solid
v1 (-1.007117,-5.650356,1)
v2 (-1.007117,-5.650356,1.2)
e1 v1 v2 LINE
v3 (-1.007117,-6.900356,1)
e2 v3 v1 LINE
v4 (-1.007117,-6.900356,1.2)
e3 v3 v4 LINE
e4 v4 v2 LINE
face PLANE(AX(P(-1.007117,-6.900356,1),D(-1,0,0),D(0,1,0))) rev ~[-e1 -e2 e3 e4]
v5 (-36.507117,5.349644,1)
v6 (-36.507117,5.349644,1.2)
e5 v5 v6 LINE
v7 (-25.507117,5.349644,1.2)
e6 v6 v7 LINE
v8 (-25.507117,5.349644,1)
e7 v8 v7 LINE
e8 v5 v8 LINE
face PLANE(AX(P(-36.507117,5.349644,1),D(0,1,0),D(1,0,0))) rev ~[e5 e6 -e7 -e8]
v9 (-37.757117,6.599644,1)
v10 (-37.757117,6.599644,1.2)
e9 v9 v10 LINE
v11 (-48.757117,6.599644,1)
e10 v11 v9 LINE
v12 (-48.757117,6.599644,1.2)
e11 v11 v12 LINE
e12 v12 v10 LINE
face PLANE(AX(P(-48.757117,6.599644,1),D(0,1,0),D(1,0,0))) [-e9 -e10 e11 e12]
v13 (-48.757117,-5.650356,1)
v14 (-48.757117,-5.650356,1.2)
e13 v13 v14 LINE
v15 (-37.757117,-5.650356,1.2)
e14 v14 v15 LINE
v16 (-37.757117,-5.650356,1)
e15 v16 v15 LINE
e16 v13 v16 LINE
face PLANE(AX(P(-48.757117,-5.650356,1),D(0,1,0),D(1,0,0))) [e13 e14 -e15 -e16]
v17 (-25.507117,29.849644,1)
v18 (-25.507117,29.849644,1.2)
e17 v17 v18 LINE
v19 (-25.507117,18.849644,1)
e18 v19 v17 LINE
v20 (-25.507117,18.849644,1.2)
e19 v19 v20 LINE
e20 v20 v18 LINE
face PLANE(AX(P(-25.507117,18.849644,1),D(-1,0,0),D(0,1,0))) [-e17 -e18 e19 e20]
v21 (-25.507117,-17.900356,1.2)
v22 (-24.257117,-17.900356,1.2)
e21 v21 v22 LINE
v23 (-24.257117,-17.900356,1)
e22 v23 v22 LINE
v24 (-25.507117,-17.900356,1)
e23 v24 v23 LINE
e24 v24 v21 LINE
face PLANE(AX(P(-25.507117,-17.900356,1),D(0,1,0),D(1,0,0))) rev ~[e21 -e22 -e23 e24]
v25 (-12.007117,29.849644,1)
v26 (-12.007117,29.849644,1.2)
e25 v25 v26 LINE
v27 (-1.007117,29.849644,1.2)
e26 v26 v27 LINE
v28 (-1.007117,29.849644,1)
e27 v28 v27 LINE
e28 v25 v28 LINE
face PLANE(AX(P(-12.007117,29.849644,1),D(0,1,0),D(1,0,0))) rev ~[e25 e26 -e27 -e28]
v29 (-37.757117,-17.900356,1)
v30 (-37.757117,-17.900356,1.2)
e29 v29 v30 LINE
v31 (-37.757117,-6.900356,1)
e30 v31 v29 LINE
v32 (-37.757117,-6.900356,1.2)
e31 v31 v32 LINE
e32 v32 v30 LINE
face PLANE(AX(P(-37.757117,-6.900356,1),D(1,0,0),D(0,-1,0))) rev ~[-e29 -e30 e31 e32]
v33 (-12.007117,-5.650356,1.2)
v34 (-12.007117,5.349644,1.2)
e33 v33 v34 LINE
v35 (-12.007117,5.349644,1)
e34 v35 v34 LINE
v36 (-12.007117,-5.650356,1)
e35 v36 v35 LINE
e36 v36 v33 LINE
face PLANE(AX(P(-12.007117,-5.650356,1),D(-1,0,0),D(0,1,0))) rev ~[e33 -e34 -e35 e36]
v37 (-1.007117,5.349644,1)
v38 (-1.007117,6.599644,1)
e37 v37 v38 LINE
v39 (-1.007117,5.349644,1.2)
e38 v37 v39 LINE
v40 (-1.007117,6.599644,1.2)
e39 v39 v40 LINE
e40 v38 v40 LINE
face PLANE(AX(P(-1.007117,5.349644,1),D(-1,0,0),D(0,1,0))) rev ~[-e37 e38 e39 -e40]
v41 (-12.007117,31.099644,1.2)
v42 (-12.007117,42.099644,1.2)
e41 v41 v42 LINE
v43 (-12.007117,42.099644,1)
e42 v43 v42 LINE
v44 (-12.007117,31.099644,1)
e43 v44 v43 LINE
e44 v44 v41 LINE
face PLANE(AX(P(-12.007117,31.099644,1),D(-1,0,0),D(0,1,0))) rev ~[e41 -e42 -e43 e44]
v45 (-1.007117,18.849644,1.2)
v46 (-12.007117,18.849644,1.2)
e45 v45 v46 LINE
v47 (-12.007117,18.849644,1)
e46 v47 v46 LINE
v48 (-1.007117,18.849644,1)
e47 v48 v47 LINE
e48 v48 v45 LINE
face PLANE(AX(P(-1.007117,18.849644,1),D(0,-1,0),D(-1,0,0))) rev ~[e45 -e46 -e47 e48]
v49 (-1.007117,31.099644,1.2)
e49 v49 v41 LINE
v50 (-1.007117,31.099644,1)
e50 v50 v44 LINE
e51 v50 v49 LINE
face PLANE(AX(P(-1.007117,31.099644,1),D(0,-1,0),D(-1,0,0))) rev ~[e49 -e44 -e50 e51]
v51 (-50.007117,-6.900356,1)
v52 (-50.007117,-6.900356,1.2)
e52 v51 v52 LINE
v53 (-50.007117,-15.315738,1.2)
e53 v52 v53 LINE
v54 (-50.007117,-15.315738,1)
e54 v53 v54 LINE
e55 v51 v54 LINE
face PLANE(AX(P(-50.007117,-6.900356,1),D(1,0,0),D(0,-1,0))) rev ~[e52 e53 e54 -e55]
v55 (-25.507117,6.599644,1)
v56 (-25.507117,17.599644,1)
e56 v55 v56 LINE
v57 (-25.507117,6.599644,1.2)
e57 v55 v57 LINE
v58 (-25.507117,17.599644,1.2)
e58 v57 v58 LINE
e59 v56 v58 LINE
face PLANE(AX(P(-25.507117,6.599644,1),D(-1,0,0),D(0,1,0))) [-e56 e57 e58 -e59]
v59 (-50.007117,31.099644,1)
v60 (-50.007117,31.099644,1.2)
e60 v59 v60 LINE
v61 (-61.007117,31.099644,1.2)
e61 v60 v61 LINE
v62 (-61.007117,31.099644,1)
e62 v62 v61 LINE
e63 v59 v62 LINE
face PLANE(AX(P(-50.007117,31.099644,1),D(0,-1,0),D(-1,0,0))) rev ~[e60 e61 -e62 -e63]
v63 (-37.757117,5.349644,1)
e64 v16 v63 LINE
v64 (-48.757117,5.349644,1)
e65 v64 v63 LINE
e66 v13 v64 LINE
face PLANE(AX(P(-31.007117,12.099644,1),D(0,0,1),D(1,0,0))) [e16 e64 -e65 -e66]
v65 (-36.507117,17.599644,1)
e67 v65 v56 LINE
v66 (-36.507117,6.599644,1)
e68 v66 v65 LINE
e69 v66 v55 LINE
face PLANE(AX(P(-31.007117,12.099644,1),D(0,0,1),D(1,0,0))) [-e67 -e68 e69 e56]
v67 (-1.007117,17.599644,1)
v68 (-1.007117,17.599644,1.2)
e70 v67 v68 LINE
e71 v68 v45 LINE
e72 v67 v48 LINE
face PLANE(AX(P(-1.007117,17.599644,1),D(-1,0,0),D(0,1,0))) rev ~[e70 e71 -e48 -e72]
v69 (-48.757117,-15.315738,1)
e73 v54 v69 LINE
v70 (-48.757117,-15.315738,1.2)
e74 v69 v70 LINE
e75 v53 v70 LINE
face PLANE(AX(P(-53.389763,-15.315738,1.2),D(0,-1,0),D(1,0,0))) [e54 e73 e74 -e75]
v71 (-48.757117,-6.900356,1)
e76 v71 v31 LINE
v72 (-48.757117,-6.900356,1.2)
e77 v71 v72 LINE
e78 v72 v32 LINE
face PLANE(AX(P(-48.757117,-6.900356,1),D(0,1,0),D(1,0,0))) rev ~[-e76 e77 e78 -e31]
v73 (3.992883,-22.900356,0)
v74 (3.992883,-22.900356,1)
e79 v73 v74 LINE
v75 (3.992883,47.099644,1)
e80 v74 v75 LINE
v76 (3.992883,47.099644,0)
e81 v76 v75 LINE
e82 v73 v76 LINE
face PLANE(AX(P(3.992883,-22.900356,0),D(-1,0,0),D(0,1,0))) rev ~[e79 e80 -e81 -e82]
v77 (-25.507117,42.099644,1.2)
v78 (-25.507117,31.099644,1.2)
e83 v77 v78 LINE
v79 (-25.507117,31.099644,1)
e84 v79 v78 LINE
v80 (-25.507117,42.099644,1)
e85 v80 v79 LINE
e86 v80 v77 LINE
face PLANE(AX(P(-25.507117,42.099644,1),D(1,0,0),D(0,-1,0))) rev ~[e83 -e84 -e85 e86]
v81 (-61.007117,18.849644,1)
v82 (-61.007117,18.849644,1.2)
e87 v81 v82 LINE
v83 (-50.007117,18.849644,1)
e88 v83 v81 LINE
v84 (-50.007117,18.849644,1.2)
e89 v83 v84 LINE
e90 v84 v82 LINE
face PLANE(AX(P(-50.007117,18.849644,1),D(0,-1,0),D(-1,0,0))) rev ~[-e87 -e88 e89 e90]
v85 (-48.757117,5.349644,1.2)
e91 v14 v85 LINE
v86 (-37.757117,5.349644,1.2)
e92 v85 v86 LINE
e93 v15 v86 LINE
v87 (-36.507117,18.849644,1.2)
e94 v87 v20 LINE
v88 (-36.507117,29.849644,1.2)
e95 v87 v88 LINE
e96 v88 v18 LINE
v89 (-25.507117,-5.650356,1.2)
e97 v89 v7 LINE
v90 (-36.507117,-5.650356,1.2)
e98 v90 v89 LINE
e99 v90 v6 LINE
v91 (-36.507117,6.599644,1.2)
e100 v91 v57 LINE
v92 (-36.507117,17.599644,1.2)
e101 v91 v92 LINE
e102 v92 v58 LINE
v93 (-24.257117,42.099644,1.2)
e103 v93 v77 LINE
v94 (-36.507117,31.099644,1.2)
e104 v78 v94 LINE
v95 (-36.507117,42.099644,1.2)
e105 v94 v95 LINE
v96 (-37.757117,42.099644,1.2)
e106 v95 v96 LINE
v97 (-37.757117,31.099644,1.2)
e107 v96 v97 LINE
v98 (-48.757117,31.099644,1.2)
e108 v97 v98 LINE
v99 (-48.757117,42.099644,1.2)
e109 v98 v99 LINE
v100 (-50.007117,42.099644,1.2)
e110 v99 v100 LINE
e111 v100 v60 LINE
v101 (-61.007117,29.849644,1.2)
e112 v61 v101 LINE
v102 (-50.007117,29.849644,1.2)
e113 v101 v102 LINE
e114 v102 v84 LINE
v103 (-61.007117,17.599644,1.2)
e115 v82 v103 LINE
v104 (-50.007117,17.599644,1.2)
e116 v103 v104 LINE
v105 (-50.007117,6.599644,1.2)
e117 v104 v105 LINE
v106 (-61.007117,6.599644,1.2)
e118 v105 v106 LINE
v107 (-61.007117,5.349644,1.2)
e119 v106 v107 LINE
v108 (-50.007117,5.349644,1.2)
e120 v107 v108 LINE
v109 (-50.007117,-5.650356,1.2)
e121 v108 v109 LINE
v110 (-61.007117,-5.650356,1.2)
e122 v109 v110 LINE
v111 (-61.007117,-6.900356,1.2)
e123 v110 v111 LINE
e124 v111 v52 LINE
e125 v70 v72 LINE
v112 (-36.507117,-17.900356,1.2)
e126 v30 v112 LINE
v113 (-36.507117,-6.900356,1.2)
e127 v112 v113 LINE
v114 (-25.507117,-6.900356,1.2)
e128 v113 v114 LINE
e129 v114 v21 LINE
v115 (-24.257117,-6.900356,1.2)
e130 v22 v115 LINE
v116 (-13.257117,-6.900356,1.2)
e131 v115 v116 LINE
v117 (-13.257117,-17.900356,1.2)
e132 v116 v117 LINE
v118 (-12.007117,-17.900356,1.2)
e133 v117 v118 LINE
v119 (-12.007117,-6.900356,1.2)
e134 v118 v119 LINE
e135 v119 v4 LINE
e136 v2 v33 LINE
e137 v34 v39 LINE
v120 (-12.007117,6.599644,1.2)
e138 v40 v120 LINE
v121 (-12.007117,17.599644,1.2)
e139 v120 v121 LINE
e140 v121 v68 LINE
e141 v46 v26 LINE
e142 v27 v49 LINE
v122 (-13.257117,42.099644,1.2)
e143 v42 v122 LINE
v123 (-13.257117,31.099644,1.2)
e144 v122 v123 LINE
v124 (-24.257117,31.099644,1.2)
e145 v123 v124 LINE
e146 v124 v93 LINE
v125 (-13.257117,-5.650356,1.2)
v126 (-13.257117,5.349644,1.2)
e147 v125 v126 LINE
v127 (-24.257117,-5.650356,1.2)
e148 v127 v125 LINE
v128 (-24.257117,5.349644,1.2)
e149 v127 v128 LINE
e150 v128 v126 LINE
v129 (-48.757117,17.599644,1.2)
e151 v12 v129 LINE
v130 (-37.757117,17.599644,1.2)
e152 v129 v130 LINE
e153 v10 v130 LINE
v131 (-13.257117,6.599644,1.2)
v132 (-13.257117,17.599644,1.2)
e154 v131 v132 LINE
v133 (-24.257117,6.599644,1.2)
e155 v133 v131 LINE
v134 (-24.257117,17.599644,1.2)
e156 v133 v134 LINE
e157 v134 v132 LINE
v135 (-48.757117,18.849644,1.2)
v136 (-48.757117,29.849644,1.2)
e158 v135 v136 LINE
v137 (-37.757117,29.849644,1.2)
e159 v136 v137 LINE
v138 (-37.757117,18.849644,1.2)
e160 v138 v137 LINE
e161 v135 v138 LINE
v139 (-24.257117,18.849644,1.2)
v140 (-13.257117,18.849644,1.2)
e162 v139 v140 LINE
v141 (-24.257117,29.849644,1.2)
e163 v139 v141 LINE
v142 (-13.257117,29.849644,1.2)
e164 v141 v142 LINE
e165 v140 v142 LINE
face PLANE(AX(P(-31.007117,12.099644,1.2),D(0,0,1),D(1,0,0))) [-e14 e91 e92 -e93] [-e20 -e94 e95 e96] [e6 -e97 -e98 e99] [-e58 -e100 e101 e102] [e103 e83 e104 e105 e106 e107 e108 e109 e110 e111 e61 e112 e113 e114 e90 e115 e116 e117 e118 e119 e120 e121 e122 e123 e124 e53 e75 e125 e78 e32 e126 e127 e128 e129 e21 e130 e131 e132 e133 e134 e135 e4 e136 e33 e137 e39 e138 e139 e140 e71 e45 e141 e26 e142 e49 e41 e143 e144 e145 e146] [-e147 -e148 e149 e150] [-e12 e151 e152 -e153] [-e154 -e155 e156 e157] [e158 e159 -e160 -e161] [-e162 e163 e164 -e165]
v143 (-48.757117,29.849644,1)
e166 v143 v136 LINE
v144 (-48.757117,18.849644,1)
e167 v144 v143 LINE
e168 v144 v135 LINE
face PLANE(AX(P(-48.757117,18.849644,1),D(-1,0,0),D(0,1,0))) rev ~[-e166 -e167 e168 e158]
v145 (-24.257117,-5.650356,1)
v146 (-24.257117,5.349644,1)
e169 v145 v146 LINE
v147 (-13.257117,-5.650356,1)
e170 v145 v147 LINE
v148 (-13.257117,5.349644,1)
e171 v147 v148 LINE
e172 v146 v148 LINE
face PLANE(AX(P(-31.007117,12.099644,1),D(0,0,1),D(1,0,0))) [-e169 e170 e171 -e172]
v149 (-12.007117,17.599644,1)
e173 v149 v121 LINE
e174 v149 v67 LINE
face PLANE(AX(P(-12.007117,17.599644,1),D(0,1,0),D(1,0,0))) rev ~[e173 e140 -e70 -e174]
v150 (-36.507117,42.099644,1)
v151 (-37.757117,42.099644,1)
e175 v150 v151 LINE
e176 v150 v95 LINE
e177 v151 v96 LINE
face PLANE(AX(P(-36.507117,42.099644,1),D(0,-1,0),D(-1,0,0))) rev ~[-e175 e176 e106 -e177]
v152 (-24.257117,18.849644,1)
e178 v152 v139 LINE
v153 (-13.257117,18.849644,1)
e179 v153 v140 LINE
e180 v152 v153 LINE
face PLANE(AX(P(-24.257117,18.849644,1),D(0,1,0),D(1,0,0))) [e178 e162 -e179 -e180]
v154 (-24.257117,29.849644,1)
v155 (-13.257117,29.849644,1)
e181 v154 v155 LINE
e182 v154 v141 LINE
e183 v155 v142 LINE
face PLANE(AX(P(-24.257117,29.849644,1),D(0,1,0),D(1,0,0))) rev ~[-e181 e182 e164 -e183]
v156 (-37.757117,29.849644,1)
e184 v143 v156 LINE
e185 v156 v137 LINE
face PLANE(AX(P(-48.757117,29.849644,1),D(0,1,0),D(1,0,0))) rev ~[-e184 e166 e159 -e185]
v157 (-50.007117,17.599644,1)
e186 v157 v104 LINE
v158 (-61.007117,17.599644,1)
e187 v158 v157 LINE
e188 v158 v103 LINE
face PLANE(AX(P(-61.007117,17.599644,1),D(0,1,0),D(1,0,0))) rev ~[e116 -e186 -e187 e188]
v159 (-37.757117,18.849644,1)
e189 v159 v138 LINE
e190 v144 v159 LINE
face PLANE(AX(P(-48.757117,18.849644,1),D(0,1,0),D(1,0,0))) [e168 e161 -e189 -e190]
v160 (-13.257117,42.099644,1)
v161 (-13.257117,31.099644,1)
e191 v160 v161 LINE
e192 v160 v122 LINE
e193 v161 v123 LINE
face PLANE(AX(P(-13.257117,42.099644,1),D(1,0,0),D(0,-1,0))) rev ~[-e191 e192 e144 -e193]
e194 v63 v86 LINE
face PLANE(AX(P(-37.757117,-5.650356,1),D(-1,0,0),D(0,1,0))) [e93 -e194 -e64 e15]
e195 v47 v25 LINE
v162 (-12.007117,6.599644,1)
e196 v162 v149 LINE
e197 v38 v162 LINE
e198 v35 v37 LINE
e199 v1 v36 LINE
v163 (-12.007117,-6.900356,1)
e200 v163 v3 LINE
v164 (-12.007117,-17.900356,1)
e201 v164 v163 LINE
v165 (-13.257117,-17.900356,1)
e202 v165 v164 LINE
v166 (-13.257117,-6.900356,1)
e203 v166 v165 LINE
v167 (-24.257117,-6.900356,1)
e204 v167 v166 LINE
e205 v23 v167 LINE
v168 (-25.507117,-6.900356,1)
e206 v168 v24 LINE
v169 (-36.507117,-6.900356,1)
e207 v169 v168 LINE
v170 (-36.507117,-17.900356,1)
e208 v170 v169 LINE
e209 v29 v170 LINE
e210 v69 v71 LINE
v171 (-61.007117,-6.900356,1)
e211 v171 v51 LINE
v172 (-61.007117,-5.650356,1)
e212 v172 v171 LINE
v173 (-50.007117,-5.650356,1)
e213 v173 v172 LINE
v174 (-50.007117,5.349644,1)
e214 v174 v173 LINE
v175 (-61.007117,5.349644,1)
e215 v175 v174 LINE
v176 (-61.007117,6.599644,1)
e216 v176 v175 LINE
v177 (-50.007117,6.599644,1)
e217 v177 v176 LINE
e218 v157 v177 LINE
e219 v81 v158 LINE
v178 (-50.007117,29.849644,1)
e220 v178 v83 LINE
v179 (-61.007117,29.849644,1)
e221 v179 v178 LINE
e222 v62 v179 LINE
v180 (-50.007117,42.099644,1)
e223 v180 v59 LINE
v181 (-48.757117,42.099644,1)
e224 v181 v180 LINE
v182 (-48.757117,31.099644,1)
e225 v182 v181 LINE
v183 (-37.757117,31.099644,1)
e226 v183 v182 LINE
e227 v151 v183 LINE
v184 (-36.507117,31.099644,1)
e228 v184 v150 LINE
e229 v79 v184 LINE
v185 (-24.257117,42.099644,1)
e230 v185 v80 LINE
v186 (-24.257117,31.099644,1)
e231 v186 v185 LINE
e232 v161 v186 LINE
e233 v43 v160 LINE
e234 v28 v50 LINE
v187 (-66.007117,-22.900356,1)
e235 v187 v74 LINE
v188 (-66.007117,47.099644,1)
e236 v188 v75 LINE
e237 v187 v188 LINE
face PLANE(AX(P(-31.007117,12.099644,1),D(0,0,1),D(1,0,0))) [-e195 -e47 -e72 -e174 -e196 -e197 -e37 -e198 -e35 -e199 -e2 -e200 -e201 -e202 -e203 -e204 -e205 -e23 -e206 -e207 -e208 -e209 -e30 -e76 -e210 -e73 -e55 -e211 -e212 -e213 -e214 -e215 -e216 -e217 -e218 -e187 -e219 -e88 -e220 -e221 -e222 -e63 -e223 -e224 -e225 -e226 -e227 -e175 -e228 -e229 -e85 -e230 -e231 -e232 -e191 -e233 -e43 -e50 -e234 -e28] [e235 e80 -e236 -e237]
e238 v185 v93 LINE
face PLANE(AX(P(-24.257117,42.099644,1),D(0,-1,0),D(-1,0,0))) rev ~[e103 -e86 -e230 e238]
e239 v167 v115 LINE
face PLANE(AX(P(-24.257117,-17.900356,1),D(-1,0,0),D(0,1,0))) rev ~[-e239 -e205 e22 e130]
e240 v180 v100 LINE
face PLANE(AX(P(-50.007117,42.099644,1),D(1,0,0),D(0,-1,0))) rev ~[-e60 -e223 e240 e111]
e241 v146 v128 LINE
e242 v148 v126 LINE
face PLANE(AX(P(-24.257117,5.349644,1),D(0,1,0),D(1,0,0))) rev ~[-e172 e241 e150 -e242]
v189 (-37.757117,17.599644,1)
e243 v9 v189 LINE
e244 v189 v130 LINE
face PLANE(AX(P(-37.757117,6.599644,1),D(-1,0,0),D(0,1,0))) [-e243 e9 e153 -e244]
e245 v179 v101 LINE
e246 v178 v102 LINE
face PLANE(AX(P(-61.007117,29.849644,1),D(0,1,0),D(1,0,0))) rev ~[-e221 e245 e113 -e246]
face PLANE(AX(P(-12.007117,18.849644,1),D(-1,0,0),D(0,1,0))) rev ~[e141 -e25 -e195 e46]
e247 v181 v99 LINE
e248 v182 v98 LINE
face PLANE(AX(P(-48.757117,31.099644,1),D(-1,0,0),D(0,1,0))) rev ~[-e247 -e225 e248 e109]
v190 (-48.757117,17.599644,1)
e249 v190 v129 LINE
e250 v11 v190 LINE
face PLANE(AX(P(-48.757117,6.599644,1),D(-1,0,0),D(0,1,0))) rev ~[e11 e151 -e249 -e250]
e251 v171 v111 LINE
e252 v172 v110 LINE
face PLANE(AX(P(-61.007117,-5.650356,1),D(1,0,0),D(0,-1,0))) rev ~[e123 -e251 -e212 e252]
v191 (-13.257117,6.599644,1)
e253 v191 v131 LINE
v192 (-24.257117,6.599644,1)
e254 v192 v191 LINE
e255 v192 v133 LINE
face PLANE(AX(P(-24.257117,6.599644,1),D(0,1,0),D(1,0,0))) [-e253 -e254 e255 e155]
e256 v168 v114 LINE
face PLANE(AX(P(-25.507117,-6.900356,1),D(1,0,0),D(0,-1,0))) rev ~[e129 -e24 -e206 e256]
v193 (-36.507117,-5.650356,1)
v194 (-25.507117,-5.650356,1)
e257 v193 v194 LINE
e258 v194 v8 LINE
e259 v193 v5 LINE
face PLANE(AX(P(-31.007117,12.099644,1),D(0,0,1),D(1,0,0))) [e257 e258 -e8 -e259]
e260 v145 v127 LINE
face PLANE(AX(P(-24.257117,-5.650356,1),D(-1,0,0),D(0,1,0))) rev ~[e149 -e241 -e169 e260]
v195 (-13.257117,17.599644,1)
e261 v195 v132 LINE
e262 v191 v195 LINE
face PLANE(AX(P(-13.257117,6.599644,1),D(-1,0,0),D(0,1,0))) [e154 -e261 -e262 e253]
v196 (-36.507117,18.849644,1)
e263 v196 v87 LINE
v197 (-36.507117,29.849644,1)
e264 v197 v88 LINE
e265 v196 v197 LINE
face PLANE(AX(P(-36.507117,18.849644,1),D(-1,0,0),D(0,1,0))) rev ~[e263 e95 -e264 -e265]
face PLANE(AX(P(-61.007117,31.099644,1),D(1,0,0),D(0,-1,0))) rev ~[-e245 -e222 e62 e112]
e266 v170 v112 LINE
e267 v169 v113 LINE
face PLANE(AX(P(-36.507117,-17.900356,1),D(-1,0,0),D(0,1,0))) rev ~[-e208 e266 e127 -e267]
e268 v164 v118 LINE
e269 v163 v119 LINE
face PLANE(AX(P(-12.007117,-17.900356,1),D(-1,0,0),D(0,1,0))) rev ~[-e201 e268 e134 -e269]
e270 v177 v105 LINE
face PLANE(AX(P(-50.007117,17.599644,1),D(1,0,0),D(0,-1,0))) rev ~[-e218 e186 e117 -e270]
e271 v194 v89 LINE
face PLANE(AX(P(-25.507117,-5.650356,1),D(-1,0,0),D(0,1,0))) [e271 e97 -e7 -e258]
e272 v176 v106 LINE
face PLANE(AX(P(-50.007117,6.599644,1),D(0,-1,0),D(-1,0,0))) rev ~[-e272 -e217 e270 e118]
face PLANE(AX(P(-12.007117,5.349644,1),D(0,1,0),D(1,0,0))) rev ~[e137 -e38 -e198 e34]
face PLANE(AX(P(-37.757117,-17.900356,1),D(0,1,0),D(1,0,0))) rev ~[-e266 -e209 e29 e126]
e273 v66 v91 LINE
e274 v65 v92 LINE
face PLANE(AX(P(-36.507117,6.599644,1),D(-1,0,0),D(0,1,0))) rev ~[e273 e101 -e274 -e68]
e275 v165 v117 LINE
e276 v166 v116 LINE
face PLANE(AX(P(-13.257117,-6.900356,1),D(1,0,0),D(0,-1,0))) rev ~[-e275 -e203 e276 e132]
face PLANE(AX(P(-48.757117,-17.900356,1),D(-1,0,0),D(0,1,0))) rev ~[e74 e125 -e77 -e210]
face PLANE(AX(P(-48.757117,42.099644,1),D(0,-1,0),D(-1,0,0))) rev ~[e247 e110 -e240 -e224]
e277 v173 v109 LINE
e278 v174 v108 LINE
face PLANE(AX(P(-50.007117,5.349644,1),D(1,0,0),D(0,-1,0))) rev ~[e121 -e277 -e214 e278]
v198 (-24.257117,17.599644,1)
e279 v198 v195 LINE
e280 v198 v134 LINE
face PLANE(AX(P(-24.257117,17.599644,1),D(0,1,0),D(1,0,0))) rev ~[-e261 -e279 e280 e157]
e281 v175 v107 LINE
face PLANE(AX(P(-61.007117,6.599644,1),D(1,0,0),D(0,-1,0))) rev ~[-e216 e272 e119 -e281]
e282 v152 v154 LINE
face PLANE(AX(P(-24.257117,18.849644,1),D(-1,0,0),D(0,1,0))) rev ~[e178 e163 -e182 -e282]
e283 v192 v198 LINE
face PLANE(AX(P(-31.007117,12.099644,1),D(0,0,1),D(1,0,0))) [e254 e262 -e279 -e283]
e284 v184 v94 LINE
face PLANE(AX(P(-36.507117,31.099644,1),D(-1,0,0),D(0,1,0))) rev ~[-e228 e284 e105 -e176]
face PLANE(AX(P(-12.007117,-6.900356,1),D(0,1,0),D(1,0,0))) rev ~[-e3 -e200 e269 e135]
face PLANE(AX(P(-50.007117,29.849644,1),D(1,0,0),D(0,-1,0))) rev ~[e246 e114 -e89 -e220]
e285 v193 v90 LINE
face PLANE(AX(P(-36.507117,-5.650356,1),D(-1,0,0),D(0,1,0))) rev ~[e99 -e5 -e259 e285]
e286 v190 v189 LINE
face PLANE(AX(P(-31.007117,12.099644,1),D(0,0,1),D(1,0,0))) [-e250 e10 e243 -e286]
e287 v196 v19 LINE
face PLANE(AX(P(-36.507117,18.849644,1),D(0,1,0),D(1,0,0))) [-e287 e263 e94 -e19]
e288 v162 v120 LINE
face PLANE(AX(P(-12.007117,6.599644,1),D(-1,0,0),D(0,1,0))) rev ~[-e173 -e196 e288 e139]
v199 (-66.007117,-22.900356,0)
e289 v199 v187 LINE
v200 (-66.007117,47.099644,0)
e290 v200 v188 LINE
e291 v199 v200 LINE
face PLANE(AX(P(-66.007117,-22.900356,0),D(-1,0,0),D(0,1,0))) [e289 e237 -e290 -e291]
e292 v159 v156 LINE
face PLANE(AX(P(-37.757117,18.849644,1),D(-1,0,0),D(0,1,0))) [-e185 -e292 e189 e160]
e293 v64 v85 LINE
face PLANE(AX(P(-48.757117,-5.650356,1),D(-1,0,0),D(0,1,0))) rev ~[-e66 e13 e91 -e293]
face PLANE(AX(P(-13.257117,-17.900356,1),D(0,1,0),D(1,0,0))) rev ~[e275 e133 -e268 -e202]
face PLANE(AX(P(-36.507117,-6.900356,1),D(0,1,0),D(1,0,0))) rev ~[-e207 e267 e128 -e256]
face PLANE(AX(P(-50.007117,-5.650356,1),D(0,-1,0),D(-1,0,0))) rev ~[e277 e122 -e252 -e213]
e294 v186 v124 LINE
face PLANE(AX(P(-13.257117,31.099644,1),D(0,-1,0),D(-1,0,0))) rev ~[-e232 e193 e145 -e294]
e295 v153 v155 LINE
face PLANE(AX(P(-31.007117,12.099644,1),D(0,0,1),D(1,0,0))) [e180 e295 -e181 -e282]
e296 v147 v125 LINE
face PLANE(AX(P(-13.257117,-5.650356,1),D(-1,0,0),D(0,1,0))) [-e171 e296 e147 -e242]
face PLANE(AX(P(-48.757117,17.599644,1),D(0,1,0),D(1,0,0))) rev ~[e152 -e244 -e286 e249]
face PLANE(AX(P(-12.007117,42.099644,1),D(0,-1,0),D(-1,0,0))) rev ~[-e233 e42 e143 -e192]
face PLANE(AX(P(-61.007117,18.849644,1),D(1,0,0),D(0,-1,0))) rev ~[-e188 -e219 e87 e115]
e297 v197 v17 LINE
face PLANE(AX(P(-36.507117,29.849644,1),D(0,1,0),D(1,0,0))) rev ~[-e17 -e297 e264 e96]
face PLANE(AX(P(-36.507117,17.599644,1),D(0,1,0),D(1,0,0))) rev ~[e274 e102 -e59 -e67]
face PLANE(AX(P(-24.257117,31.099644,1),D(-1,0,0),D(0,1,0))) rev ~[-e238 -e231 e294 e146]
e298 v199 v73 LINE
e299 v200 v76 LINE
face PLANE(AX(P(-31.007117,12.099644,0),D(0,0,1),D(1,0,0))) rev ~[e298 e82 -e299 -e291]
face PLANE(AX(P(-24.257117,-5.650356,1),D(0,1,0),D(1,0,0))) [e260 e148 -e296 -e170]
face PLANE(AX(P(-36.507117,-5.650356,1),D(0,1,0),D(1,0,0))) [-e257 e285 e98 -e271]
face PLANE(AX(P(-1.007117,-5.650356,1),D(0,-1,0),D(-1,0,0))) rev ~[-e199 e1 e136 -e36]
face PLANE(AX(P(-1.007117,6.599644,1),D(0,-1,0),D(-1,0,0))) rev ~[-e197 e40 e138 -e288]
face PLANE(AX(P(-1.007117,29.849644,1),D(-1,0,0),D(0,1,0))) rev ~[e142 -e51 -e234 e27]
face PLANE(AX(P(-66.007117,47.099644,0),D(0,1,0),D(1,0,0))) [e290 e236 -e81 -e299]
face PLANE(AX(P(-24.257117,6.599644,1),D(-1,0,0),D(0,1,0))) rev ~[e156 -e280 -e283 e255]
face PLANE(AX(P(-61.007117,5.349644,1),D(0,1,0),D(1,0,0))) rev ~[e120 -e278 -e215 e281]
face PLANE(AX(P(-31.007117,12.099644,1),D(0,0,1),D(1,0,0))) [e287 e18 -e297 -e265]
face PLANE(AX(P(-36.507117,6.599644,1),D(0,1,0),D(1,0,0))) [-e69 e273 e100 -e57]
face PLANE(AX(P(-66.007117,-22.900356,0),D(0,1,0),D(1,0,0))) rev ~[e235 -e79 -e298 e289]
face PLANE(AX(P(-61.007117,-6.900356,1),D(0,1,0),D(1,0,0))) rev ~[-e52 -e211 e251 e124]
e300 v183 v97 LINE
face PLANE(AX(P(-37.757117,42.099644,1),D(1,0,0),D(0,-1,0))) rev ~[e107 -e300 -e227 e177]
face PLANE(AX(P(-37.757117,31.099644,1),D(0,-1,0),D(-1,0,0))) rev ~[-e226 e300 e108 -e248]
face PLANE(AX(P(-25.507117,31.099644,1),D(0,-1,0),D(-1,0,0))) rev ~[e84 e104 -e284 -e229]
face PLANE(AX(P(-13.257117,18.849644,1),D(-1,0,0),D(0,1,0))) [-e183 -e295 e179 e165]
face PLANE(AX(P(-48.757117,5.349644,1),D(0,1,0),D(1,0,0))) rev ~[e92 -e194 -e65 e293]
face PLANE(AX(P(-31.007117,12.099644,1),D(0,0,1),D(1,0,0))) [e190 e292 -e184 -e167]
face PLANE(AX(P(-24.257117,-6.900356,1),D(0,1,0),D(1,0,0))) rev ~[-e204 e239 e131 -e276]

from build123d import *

# Parameters (mm, degrees)
SKETCH1_W           = 70
SKETCH1_H           = 70
BOSS_EXTRUDE1_DEPTH = 1
SKETCH3_W           = 11
SKETCH3_H           = 11
BOSS_EXTRUDE2_DEPTH = 0.2
SKETCH4_W           = 5.900984105
SKETCH4_H           = 4.163778505
CUT_EXTRUDE3_DEPTH  = 0.2


with BuildPart() as part:
    # Sketch1 → Boss-Extrude1 (new body)
    with BuildSketch(Plane.XY):
        with Locations((-31.007117438, 12.099644128)):
            Rectangle(SKETCH1_W, SKETCH1_H)
    extrude(amount=BOSS_EXTRUDE1_DEPTH)

    # Sketch3 → Boss-Extrude2 (add)
    with BuildSketch(Plane.XY.offset(1)):
        Polygon((-48.757117438, 42.099644128), (-50.007117438, 42.099644128), (-50.007117438, 31.099644128), (-61.007117438, 31.099644128), (-61.007117438, 29.849644128), (-50.007117438, 29.849644128), (-50.007117438, 18.849644128), (-61.007117438, 18.849644128), (-61.007117438, 17.599644128), (-50.007117438, 17.599644128), (-50.007117438, 6.599644128), (-61.007117438, 6.599644128), (-61.007117438, 5.349644128), (-50.007117438, 5.349644128), (-50.007117438, -5.650355872), (-61.007117438, -5.650355872), (-61.007117438, -6.900355872), (-50.007117438, -6.900355872), (-50.007117438, -17.900355872), (-48.757117438, -17.900355872), (-48.757117438, -6.900355872), (-37.757117438, -6.900355872), (-37.757117438, -17.900355872), (-36.507117438, -17.900355872), (-36.507117438, -6.900355872), (-25.507117438, -6.900355872), (-25.507117438, -17.900355872), (-24.257117438, -17.900355872), (-24.257117438, -6.900355872), (-13.257117438, -6.900355872), (-13.257117438, -17.900355872), (-12.007117438, -17.900355872), (-12.007117438, -6.900355872), (-1.007117438, -6.900355872), (-1.007117438, -5.650355872), (-12.007117438, -5.650355872), (-12.007117438, 5.349644128), (-1.007117438, 5.349644128), (-1.007117438, 6.599644128), (-12.007117438, 6.599644128), (-12.007117438, 17.599644128), (-1.007117438, 17.599644128), (-1.007117438, 18.849644128), (-12.007117438, 18.849644128), (-12.007117438, 29.849644128), (-1.007117438, 29.849644128), (-1.007117438, 31.099644128), (-12.007117438, 31.099644128), (-12.007117438, 42.099644128), (-13.257117438, 42.099644128), (-13.257117438, 31.099644128), (-24.257117438, 31.099644128), (-24.257117438, 42.099644128), (-25.507117438, 42.099644128), (-25.507117438, 31.099644128), (-36.507117438, 31.099644128), (-36.507117438, 42.099644128), (-37.757117438, 42.099644128), (-37.757117438, 31.099644128), (-48.757117438, 31.099644128), align=None)
        with Locations((-43.257117438, -0.150355872)):
            Rectangle(SKETCH3_W, SKETCH3_H, mode=Mode.SUBTRACT)
        with Locations((-31.007117438, -0.150355872)):
            Rectangle(SKETCH3_W, SKETCH3_H, mode=Mode.SUBTRACT)
        with Locations((-18.757117438, -0.150355872)):
            Rectangle(SKETCH3_W, SKETCH3_H, mode=Mode.SUBTRACT)
        with Locations((-43.257117438, 12.099644128)):
            Rectangle(SKETCH3_W, SKETCH3_H, mode=Mode.SUBTRACT)
        with Locations((-43.257117438, 24.349644128)):
            Rectangle(SKETCH3_W, SKETCH3_H, mode=Mode.SUBTRACT)
        with Locations((-31.007117438, 12.099644128)):
            Rectangle(SKETCH3_W, SKETCH3_H, mode=Mode.SUBTRACT)
        with Locations((-18.757117438, 12.099644128)):
            Rectangle(SKETCH3_W, SKETCH3_H, mode=Mode.SUBTRACT)
        with Locations((-31.007117438, 24.349644128)):
            Rectangle(SKETCH3_W, SKETCH3_H, mode=Mode.SUBTRACT)
        with Locations((-18.757117438, 24.349644128)):
            Rectangle(SKETCH3_W, SKETCH3_H, mode=Mode.SUBTRACT)
    extrude(amount=BOSS_EXTRUDE2_DEPTH)

    # Sketch4 → Cut-Extrude3 (cut)
    with BuildSketch(Plane.XY.offset(1.2)):
        with Locations((-50.439270902, -17.397627398)):
            Rectangle(SKETCH4_W, SKETCH4_H)
    extrude(amount=-CUT_EXTRUDE3_DEPTH, mode=Mode.SUBTRACT)


solid = part.part
